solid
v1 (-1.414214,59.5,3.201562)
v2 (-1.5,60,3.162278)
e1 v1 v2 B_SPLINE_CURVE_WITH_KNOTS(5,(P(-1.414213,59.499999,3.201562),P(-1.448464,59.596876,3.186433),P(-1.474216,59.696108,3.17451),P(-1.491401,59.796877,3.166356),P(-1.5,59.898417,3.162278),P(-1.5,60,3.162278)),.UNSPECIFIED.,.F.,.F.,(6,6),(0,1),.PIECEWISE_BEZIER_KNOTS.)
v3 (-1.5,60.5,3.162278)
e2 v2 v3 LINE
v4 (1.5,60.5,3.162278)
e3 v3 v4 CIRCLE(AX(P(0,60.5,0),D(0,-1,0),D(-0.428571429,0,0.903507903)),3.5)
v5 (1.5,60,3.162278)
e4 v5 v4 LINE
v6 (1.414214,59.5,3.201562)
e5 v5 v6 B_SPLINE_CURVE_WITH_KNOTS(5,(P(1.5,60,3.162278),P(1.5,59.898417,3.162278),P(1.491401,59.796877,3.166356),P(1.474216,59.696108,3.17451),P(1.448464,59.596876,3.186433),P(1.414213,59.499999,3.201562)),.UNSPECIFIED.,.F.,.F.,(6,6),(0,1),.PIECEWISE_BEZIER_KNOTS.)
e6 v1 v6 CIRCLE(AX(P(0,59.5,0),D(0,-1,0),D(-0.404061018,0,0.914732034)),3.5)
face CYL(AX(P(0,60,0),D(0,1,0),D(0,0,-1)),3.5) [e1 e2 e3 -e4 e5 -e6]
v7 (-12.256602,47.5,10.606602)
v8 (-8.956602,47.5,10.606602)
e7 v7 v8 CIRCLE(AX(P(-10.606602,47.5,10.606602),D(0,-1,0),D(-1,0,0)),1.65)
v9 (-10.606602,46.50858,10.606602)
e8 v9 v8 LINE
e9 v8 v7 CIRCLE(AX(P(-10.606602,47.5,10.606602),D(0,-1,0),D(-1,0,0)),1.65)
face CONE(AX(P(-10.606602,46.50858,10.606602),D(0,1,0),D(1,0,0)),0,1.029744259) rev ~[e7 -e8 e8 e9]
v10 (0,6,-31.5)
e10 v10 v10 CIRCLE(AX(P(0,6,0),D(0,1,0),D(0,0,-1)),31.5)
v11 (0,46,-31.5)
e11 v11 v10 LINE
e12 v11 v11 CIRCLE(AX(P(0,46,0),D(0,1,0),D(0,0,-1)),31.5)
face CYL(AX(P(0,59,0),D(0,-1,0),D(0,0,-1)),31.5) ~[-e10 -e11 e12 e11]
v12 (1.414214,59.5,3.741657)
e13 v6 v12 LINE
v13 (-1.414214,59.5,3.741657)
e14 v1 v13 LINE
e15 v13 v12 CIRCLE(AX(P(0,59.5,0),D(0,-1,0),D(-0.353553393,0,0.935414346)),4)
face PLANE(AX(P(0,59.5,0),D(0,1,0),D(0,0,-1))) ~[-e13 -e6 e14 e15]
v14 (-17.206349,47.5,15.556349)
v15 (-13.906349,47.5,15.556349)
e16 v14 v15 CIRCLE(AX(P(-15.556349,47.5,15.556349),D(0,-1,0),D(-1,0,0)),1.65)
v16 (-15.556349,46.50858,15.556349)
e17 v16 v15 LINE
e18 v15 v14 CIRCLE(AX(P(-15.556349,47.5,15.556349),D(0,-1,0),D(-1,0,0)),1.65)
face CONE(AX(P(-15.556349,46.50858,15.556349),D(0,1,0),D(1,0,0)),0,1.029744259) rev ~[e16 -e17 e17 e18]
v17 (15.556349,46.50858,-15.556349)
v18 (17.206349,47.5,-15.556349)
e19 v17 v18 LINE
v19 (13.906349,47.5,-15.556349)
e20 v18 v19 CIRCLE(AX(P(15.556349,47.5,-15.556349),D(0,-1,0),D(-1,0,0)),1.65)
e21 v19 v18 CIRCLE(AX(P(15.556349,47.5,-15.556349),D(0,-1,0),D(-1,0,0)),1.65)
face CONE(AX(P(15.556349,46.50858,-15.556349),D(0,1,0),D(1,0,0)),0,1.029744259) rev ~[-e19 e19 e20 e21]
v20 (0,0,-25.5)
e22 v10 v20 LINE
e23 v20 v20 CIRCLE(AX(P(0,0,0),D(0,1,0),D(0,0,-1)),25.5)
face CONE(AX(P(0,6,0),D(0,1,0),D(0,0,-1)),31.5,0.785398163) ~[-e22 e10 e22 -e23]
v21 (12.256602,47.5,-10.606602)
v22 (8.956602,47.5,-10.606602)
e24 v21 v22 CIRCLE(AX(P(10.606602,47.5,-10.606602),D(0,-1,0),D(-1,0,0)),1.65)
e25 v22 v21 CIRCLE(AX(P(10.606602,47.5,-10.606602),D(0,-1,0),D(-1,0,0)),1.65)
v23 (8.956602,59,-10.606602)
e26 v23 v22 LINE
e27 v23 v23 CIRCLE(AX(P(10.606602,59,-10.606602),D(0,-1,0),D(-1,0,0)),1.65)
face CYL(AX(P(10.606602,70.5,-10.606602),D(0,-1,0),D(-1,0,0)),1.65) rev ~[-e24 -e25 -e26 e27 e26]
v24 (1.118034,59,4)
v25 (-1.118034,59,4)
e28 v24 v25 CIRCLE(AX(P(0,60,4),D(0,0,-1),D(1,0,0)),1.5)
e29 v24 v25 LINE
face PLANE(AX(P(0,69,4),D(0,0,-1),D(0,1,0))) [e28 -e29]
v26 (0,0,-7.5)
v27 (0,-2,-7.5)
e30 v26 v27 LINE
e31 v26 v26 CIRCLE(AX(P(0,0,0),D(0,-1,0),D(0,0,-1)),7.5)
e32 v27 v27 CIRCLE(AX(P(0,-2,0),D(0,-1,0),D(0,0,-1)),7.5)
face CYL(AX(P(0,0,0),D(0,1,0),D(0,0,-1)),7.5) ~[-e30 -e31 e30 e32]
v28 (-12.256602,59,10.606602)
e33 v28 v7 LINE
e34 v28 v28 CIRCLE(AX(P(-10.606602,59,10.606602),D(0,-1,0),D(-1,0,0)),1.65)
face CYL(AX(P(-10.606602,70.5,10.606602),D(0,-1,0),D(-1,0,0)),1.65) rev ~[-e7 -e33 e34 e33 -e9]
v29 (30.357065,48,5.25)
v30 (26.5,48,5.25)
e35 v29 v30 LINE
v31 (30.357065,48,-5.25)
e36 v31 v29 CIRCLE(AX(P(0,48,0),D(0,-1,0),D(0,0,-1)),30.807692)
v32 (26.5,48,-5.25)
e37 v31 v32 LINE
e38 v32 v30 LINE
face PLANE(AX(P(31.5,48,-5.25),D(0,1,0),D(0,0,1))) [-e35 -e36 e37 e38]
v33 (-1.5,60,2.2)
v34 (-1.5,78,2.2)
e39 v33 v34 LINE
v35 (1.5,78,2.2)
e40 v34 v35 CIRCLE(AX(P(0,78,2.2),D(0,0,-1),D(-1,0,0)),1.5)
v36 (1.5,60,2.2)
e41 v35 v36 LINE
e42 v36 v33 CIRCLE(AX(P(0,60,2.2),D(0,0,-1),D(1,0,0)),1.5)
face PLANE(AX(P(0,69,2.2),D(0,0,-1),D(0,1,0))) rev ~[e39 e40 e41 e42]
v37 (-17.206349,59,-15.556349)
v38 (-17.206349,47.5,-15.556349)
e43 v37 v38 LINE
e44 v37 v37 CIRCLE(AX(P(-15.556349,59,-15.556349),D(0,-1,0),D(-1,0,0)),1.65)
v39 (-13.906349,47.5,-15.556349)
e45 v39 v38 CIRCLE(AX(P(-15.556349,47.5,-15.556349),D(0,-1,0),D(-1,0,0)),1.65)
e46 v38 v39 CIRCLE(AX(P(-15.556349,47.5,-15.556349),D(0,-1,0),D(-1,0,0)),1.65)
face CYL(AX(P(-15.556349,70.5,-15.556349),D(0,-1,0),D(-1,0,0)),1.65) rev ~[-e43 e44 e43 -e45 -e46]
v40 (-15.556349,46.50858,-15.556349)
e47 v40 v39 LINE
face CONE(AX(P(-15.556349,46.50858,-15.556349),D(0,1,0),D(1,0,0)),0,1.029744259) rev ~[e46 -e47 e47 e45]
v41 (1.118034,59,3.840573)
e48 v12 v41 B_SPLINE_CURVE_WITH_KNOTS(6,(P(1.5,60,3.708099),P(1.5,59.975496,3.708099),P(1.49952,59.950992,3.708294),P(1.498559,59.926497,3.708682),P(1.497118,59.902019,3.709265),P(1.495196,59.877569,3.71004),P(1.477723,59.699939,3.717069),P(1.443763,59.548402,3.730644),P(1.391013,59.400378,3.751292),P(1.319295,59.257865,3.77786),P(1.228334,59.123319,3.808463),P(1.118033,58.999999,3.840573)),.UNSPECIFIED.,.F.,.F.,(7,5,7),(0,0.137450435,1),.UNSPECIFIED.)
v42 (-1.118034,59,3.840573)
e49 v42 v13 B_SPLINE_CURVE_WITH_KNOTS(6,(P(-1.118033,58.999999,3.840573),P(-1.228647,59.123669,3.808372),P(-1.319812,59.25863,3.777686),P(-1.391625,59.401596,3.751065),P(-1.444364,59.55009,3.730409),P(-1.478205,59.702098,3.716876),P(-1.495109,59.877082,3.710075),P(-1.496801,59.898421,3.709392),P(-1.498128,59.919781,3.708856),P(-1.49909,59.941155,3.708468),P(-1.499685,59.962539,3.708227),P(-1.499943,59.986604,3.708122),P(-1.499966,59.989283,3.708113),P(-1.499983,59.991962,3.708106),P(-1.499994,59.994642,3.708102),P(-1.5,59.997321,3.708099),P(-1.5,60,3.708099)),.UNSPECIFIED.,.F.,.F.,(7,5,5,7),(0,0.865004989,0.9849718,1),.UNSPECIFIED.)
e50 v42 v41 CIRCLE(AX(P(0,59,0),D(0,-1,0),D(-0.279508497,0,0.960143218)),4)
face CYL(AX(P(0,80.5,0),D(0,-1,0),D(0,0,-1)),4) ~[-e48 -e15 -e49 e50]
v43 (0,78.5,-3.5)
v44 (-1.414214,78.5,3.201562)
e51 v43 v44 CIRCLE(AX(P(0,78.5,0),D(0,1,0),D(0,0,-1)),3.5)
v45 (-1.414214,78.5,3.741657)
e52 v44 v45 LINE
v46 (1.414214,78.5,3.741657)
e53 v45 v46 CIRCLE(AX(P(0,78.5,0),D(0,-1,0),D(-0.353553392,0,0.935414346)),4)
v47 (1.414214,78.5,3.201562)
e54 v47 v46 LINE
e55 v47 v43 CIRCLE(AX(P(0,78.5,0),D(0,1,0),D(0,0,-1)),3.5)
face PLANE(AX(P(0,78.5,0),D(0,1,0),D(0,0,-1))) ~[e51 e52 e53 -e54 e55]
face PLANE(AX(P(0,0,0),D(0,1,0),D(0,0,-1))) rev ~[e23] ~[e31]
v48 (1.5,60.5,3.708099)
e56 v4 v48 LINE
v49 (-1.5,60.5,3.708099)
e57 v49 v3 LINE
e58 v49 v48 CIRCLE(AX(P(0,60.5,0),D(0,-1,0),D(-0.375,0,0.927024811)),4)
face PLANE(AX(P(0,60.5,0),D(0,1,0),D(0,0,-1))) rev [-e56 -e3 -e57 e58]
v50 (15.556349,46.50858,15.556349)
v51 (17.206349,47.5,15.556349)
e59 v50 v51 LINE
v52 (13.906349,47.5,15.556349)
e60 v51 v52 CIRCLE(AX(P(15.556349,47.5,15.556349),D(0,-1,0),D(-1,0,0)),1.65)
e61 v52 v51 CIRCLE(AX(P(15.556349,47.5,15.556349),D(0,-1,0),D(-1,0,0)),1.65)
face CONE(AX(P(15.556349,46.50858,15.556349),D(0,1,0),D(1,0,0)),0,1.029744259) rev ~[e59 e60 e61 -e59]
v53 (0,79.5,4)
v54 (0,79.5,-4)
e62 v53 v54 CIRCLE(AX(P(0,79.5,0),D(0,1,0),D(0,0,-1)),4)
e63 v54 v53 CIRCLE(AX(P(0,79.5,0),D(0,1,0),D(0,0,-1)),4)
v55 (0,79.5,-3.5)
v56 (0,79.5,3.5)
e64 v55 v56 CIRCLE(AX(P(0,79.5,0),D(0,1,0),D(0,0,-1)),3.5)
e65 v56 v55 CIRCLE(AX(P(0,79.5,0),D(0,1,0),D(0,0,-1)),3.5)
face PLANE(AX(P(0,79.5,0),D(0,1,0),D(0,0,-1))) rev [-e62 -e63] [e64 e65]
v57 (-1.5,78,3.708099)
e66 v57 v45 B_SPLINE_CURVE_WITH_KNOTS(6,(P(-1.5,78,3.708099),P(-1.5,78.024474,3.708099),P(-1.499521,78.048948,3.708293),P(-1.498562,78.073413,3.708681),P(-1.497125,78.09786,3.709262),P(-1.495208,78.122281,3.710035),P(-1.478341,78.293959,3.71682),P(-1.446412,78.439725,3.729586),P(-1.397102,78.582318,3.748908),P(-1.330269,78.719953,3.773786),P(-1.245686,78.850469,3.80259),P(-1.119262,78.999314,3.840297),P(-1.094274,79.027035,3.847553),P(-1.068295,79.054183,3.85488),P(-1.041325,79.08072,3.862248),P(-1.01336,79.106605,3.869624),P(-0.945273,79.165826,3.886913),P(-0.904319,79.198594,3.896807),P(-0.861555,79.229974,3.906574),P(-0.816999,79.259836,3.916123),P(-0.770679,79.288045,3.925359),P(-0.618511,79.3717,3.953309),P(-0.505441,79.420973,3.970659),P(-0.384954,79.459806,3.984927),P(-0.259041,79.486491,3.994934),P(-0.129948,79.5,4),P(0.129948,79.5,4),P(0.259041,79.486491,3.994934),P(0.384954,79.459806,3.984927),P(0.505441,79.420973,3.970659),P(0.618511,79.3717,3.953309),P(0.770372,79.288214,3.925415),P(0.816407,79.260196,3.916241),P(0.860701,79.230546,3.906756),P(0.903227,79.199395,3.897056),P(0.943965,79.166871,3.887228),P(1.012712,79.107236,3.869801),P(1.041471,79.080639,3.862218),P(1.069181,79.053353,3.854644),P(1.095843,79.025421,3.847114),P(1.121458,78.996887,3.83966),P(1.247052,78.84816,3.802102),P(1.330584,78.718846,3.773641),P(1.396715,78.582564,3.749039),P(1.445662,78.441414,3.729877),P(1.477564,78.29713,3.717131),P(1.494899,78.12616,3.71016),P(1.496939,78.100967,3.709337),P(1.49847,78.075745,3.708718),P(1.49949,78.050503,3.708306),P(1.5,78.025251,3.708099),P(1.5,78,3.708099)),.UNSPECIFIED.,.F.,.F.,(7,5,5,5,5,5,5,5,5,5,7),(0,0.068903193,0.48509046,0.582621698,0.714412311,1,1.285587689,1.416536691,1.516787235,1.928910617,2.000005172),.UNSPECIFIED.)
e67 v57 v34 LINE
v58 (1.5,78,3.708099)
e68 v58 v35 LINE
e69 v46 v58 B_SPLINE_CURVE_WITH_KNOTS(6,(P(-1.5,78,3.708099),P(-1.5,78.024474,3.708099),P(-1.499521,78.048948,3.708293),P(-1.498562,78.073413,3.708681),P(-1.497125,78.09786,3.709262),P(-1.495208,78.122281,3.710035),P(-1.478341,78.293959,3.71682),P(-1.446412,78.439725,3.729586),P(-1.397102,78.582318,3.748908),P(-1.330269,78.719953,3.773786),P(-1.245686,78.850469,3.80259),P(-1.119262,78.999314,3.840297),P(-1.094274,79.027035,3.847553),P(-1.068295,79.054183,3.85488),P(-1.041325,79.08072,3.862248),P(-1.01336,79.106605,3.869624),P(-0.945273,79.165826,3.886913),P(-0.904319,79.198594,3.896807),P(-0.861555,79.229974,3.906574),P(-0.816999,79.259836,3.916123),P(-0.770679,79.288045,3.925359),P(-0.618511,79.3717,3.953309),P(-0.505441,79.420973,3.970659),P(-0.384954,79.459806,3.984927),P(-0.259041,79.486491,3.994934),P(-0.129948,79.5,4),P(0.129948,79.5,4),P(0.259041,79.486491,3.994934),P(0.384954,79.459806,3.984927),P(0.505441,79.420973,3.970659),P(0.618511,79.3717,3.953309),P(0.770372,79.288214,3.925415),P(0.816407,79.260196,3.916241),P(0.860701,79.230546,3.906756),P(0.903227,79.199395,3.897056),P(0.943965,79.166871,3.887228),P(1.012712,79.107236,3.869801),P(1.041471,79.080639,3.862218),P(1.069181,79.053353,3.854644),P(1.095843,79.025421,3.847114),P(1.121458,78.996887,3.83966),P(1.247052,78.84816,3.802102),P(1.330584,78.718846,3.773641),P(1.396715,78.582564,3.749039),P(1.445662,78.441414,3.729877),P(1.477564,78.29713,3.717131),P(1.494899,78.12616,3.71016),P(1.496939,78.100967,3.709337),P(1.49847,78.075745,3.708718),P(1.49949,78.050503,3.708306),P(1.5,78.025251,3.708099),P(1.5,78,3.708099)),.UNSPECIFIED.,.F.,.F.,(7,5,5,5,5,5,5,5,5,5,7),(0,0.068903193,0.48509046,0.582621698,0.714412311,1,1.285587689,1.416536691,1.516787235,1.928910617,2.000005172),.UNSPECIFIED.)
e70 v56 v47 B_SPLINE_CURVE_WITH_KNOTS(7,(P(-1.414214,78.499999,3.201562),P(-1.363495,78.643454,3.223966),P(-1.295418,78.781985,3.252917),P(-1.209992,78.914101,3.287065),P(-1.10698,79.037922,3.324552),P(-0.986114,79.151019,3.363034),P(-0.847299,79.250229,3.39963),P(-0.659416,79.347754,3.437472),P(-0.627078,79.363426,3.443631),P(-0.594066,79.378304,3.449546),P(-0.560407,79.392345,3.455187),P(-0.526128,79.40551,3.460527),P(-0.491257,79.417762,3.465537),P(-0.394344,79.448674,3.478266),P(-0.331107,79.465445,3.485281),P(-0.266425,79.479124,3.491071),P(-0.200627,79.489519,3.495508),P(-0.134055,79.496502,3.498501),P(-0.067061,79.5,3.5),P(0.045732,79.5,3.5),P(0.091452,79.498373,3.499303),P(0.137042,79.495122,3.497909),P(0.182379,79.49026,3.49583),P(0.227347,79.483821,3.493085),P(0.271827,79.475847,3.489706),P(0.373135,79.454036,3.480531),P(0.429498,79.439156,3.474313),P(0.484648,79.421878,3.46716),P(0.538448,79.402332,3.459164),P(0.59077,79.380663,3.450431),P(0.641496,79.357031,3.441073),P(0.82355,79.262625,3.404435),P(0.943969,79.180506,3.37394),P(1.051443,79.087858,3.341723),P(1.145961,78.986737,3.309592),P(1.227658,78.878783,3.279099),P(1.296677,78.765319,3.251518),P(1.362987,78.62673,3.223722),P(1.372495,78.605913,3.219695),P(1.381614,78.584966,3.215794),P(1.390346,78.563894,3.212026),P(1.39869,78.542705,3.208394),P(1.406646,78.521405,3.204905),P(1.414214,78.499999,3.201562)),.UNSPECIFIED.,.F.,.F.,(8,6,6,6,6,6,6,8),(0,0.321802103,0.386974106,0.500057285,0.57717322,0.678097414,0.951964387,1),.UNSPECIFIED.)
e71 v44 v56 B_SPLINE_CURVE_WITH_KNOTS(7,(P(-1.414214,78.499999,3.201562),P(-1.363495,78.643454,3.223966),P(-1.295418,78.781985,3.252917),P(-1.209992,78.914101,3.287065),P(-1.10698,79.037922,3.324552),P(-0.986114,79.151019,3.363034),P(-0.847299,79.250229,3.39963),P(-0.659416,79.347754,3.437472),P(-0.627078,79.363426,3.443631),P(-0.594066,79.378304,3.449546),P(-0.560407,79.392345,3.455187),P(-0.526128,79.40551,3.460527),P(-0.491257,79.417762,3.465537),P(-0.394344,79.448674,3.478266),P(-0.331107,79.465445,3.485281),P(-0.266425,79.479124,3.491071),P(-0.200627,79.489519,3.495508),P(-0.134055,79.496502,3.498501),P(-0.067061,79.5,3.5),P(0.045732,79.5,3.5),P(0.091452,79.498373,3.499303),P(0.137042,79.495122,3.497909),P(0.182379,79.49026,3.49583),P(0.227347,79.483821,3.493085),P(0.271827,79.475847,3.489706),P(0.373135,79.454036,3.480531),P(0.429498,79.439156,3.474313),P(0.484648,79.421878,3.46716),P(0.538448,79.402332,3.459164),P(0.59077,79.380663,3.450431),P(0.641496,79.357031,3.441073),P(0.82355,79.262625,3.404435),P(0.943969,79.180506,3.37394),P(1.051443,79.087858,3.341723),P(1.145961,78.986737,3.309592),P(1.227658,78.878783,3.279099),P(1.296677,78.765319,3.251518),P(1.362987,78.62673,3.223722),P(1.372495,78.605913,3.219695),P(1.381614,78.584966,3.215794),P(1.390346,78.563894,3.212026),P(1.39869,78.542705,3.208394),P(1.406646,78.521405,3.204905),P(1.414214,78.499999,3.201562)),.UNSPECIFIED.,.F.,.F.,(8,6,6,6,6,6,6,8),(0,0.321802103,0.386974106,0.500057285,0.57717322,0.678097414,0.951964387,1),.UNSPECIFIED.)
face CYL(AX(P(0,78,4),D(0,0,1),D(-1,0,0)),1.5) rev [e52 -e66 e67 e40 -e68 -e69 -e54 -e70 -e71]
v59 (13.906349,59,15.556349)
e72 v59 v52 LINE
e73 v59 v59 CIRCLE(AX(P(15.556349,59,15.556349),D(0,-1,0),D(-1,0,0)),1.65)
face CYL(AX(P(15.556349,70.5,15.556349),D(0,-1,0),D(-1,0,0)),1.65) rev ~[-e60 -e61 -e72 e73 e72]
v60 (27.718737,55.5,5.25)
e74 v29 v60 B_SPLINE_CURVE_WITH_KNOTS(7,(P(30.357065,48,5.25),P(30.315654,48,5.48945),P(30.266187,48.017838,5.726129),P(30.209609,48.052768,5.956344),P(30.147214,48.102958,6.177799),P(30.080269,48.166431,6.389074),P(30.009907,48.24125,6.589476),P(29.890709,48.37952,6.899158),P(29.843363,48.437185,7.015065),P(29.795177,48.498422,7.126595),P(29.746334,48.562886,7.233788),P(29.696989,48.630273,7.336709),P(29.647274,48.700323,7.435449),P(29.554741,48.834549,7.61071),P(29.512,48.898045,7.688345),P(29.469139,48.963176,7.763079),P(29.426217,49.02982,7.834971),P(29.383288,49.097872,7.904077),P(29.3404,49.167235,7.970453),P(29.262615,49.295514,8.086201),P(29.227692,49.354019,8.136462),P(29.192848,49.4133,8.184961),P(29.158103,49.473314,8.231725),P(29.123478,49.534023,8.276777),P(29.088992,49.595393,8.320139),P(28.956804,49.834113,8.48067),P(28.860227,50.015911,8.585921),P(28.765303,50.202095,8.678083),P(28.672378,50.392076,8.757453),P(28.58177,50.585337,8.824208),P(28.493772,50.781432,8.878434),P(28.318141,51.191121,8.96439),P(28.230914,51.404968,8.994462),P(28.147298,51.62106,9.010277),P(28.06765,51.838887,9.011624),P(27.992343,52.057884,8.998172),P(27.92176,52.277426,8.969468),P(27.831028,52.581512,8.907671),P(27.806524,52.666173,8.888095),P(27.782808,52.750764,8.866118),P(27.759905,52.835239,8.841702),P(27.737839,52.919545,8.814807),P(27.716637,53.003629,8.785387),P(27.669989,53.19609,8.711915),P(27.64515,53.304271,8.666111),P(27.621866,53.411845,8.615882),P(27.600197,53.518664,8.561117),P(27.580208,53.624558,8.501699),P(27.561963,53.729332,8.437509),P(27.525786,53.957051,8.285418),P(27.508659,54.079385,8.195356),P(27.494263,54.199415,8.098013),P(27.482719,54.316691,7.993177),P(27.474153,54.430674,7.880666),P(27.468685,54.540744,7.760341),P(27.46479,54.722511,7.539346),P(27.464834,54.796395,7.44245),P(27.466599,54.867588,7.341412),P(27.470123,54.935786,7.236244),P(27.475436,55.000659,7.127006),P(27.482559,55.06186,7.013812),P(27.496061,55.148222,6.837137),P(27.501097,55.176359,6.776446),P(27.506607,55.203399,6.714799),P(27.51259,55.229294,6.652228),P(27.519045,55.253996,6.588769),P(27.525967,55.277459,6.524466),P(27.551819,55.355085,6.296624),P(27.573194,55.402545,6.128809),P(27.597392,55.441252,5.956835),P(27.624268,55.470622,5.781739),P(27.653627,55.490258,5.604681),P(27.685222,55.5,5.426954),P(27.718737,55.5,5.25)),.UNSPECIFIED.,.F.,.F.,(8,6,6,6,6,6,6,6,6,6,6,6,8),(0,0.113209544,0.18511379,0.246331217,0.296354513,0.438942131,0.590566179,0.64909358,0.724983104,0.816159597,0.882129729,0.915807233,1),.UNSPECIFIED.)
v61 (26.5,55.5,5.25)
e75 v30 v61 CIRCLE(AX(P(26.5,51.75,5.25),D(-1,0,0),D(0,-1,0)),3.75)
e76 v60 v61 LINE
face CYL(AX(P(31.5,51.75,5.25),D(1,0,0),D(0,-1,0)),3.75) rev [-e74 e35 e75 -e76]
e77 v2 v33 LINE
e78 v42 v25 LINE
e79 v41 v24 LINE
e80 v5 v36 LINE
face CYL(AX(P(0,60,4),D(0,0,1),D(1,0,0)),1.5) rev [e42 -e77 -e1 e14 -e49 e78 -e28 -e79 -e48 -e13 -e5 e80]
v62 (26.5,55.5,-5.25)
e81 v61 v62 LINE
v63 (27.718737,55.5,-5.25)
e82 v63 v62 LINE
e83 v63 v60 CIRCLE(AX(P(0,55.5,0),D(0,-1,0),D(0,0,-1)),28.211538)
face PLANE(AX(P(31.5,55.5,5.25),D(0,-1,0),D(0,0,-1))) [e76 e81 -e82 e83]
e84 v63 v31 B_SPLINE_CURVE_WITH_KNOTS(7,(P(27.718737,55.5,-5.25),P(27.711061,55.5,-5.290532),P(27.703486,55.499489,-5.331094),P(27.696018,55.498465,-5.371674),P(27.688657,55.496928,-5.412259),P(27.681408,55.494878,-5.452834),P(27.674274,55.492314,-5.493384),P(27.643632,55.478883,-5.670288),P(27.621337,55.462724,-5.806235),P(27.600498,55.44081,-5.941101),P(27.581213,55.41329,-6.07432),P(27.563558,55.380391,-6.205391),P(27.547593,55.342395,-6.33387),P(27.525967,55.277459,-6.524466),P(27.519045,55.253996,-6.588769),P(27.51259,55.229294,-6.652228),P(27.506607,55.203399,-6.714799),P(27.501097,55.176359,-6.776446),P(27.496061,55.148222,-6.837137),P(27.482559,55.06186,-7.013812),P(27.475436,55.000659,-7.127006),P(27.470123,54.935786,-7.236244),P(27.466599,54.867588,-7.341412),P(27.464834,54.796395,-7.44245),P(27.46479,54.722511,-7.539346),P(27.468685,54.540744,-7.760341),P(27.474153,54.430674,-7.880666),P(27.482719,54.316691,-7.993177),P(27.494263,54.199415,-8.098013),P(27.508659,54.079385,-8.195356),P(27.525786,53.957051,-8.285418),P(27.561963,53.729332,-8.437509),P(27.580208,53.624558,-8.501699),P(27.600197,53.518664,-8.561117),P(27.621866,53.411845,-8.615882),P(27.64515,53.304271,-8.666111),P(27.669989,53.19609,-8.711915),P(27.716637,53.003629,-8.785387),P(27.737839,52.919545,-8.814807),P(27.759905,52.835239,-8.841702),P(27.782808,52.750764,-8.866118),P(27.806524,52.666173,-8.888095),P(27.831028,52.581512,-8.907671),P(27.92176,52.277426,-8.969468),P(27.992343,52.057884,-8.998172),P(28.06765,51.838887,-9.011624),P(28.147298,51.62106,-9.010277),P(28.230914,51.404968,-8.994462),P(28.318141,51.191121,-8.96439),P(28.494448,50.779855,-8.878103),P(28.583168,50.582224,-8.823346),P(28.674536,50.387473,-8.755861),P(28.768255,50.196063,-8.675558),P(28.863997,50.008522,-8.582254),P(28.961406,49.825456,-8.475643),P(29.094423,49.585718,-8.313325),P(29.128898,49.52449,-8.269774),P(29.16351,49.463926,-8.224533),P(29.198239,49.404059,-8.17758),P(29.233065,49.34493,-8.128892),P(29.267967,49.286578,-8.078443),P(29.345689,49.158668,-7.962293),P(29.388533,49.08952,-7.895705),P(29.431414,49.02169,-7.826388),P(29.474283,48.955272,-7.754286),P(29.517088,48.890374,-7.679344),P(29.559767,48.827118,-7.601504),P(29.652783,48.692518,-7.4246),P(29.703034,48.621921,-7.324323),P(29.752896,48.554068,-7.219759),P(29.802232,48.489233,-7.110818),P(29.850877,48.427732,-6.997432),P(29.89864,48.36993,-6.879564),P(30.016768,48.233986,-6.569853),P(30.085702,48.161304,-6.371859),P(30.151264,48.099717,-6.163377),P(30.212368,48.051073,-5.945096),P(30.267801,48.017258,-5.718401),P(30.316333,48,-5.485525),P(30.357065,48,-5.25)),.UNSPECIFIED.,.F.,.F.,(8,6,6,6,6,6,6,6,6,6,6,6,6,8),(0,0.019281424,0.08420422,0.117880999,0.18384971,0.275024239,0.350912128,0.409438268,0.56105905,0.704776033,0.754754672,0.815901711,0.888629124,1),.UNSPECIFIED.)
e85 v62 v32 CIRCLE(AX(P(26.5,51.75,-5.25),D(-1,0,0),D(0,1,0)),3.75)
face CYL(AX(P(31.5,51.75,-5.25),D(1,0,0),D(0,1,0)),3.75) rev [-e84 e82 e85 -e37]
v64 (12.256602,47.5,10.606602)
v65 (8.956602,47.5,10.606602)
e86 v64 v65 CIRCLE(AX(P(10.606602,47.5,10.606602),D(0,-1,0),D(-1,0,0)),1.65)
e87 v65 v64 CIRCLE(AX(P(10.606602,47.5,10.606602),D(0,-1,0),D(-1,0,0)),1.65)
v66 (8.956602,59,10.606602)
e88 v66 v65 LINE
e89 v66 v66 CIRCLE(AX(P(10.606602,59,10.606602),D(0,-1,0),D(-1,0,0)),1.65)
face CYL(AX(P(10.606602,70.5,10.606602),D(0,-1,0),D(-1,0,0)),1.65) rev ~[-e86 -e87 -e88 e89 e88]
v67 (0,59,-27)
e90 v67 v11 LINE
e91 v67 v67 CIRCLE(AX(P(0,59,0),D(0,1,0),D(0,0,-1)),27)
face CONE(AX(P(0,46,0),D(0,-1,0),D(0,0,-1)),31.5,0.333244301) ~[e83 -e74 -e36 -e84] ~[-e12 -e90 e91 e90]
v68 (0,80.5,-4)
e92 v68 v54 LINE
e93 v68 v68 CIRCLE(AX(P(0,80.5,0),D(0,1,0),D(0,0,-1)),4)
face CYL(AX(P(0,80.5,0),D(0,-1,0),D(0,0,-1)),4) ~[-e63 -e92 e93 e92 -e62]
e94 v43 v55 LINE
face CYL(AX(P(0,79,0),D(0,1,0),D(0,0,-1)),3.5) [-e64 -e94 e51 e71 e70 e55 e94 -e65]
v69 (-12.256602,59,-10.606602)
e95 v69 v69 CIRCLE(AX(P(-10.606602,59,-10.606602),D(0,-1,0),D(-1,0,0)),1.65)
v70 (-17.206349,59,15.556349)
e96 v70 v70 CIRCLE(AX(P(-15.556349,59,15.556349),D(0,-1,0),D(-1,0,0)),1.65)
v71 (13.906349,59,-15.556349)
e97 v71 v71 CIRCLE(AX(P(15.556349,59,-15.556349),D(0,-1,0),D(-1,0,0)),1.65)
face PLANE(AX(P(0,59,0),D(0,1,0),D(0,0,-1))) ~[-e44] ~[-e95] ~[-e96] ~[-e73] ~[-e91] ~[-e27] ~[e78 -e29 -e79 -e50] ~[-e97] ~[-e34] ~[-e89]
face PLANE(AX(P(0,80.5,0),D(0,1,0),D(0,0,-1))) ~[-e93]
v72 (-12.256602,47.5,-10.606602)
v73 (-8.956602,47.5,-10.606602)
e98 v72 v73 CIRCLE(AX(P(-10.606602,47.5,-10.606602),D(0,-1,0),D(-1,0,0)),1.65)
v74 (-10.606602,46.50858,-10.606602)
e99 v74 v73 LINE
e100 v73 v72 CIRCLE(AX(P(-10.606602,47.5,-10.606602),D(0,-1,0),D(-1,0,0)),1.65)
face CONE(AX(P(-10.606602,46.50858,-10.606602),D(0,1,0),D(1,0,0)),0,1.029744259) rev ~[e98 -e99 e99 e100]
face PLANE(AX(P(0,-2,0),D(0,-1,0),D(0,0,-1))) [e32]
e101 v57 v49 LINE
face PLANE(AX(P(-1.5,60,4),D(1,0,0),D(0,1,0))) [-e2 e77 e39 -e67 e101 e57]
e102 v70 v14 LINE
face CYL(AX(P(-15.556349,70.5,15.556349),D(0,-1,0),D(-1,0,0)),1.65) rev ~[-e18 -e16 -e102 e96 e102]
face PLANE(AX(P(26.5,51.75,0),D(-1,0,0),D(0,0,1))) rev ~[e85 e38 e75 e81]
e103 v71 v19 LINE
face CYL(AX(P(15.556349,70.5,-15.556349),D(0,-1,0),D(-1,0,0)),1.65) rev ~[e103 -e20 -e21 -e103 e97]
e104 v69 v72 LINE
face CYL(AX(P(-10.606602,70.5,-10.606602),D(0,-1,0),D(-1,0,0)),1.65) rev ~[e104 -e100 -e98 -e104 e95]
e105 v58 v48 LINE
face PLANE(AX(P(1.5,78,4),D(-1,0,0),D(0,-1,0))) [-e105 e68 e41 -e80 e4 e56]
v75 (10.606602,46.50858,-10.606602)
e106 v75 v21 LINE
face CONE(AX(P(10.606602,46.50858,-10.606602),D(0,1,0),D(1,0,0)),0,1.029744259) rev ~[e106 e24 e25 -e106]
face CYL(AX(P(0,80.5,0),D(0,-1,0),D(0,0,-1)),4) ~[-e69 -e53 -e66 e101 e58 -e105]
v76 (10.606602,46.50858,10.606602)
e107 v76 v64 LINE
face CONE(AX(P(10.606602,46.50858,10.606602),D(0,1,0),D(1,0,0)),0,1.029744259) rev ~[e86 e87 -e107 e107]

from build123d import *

# Parameters (mm, degrees)
M4X0_7_1_D          = 3.3
M4X0_7_1_DEPTH      = 11.5
M4X0_7_1_TIP        = 0.991420021
CUT_EXTRUDE1_DEPTH  = 1.8
CHAMFER_1_SIZE      = 4.5
CHAMFER_1_SIZE2     = 13
CHAMFER_2_SIZE      = 6
SKETCH_6_R          = 7.5
EXTRUDE_1_DEPTH     = 2
SKETCH_7_W          = 0.5
SKETCH_7_H          = 1
CUT_EXTRUDE_START   = 31.5
CUT_EXTRUDE_1_DEPTH = 5


with BuildPart() as part:
    # 스케치1 → 회전1 (revolve)
    with BuildSketch(Plane.XY, mode=Mode.PRIVATE) as revolve_1_sk:
        Polygon((0, 80.5), (4, 80.5), (4, 59), (31.5, 59), (31.5, 0), (0, 0), align=None)
    revolve(revolve_1_sk.sketch.rotate(Axis((0, 0, 0), (0, 1, 0)), 90), axis=Axis((0, 0, 0), (0, 1, 0)))

    # M4x0.7 나사 구멍1
    with Locations(Plane(origin=(0, 59, 0), x_dir=(1, 0, 0), z_dir=(0, 1, 0))):
        with Locations((10.606601718, 10.606601718), (15.556349186, 15.556349186), (10.606601718, -10.606601718), (15.556349186, -15.556349186), (-10.606601718, -10.606601718), (-15.556349186, -15.556349186), (-10.606601718, 10.606601718), (-15.556349186, 15.556349186)):
            Hole(M4X0_7_1_D / 2, depth=M4X0_7_1_DEPTH)
            with Locations((0, 0, -(M4X0_7_1_DEPTH + M4X0_7_1_TIP / 2))):  # 118° drill point
                Cone(0, M4X0_7_1_D / 2, M4X0_7_1_TIP, mode=Mode.SUBTRACT)

    # Sketch3 → Cut-Extrude1 (cut)
    with BuildSketch(Plane(origin=(2.845698698, 80.5, 4), x_dir=(0, 1, 0), z_dir=(0, 0, -1))):
        with BuildLine():
            Line((-2.5, -1.345698698), (-20.5, -1.345698698))
            ThreePointArc((-20.5, -1.345698698), (-22, -2.845698698), (-20.5, -4.345698698))
            Line((-20.5, -4.345698698), (-2.5, -4.345698698))
            ThreePointArc((-2.5, -4.345698698), (-1, -2.845698698), (-2.5, -1.345698698))
        make_face()
    extrude(amount=CUT_EXTRUDE1_DEPTH, mode=Mode.SUBTRACT)

    # 모따기1
    chamfer_1_edges = [part.edges().sort_by_distance(p)[0] for p in [
        (0, 59, 31.5),
    ]]
    chamfer_1_side = [part.faces().sort_by_distance(p)[0] for p in [
        (0, 59, 30.609045456),
    ]]
    chamfer(chamfer_1_edges, length=CHAMFER_1_SIZE, length2=CHAMFER_1_SIZE2, reference=chamfer_1_side[0])

    # 모따기2
    chamfer_2_edges = [part.edges().sort_by_distance(p)[0] for p in [
        (0, 0, 31.5),
    ]]
    chamfer(chamfer_2_edges, length=CHAMFER_2_SIZE)

    # 스케치6 → 보스-돌출1 (add)
    with BuildSketch(Plane.XZ):
        with Locations(Location((0, 0, 0), (0, 0, 270))):
            Circle(SKETCH_6_R)
    extrude(amount=EXTRUDE_1_DEPTH)

    # 스케치7 → 컷-회전1 (revolve, cut)
    with BuildSketch(Plane(origin=(0, 0, 0), x_dir=(0, 0, -1), z_dir=(1, 0, 0))):
        with Locations((3.75, 79)):
            Rectangle(SKETCH_7_W, SKETCH_7_H)
        with Locations((3.75, 60)):
            Rectangle(SKETCH_7_W, SKETCH_7_H)
    revolve(axis=Axis((0, 0, 0), (0, 1, 0)), mode=Mode.SUBTRACT)

    # 스케치9 → 컷-돌출1 (cut)
    with BuildSketch(Plane(origin=(0, 0, 0), x_dir=(0, 0, -1), z_dir=(1, 0, 0)).offset(CUT_EXTRUDE_START)):
        with BuildLine():
            Line((5.25, 48), (-5.25, 48))
            ThreePointArc((-5.25, 48), (-9, 51.75), (-5.25, 55.5))
            Line((-5.25, 55.5), (5.25, 55.5))
            ThreePointArc((5.25, 55.5), (9, 51.75), (5.25, 48))
        make_face()
    extrude(amount=-CUT_EXTRUDE_1_DEPTH, mode=Mode.SUBTRACT)


solid = part.part
